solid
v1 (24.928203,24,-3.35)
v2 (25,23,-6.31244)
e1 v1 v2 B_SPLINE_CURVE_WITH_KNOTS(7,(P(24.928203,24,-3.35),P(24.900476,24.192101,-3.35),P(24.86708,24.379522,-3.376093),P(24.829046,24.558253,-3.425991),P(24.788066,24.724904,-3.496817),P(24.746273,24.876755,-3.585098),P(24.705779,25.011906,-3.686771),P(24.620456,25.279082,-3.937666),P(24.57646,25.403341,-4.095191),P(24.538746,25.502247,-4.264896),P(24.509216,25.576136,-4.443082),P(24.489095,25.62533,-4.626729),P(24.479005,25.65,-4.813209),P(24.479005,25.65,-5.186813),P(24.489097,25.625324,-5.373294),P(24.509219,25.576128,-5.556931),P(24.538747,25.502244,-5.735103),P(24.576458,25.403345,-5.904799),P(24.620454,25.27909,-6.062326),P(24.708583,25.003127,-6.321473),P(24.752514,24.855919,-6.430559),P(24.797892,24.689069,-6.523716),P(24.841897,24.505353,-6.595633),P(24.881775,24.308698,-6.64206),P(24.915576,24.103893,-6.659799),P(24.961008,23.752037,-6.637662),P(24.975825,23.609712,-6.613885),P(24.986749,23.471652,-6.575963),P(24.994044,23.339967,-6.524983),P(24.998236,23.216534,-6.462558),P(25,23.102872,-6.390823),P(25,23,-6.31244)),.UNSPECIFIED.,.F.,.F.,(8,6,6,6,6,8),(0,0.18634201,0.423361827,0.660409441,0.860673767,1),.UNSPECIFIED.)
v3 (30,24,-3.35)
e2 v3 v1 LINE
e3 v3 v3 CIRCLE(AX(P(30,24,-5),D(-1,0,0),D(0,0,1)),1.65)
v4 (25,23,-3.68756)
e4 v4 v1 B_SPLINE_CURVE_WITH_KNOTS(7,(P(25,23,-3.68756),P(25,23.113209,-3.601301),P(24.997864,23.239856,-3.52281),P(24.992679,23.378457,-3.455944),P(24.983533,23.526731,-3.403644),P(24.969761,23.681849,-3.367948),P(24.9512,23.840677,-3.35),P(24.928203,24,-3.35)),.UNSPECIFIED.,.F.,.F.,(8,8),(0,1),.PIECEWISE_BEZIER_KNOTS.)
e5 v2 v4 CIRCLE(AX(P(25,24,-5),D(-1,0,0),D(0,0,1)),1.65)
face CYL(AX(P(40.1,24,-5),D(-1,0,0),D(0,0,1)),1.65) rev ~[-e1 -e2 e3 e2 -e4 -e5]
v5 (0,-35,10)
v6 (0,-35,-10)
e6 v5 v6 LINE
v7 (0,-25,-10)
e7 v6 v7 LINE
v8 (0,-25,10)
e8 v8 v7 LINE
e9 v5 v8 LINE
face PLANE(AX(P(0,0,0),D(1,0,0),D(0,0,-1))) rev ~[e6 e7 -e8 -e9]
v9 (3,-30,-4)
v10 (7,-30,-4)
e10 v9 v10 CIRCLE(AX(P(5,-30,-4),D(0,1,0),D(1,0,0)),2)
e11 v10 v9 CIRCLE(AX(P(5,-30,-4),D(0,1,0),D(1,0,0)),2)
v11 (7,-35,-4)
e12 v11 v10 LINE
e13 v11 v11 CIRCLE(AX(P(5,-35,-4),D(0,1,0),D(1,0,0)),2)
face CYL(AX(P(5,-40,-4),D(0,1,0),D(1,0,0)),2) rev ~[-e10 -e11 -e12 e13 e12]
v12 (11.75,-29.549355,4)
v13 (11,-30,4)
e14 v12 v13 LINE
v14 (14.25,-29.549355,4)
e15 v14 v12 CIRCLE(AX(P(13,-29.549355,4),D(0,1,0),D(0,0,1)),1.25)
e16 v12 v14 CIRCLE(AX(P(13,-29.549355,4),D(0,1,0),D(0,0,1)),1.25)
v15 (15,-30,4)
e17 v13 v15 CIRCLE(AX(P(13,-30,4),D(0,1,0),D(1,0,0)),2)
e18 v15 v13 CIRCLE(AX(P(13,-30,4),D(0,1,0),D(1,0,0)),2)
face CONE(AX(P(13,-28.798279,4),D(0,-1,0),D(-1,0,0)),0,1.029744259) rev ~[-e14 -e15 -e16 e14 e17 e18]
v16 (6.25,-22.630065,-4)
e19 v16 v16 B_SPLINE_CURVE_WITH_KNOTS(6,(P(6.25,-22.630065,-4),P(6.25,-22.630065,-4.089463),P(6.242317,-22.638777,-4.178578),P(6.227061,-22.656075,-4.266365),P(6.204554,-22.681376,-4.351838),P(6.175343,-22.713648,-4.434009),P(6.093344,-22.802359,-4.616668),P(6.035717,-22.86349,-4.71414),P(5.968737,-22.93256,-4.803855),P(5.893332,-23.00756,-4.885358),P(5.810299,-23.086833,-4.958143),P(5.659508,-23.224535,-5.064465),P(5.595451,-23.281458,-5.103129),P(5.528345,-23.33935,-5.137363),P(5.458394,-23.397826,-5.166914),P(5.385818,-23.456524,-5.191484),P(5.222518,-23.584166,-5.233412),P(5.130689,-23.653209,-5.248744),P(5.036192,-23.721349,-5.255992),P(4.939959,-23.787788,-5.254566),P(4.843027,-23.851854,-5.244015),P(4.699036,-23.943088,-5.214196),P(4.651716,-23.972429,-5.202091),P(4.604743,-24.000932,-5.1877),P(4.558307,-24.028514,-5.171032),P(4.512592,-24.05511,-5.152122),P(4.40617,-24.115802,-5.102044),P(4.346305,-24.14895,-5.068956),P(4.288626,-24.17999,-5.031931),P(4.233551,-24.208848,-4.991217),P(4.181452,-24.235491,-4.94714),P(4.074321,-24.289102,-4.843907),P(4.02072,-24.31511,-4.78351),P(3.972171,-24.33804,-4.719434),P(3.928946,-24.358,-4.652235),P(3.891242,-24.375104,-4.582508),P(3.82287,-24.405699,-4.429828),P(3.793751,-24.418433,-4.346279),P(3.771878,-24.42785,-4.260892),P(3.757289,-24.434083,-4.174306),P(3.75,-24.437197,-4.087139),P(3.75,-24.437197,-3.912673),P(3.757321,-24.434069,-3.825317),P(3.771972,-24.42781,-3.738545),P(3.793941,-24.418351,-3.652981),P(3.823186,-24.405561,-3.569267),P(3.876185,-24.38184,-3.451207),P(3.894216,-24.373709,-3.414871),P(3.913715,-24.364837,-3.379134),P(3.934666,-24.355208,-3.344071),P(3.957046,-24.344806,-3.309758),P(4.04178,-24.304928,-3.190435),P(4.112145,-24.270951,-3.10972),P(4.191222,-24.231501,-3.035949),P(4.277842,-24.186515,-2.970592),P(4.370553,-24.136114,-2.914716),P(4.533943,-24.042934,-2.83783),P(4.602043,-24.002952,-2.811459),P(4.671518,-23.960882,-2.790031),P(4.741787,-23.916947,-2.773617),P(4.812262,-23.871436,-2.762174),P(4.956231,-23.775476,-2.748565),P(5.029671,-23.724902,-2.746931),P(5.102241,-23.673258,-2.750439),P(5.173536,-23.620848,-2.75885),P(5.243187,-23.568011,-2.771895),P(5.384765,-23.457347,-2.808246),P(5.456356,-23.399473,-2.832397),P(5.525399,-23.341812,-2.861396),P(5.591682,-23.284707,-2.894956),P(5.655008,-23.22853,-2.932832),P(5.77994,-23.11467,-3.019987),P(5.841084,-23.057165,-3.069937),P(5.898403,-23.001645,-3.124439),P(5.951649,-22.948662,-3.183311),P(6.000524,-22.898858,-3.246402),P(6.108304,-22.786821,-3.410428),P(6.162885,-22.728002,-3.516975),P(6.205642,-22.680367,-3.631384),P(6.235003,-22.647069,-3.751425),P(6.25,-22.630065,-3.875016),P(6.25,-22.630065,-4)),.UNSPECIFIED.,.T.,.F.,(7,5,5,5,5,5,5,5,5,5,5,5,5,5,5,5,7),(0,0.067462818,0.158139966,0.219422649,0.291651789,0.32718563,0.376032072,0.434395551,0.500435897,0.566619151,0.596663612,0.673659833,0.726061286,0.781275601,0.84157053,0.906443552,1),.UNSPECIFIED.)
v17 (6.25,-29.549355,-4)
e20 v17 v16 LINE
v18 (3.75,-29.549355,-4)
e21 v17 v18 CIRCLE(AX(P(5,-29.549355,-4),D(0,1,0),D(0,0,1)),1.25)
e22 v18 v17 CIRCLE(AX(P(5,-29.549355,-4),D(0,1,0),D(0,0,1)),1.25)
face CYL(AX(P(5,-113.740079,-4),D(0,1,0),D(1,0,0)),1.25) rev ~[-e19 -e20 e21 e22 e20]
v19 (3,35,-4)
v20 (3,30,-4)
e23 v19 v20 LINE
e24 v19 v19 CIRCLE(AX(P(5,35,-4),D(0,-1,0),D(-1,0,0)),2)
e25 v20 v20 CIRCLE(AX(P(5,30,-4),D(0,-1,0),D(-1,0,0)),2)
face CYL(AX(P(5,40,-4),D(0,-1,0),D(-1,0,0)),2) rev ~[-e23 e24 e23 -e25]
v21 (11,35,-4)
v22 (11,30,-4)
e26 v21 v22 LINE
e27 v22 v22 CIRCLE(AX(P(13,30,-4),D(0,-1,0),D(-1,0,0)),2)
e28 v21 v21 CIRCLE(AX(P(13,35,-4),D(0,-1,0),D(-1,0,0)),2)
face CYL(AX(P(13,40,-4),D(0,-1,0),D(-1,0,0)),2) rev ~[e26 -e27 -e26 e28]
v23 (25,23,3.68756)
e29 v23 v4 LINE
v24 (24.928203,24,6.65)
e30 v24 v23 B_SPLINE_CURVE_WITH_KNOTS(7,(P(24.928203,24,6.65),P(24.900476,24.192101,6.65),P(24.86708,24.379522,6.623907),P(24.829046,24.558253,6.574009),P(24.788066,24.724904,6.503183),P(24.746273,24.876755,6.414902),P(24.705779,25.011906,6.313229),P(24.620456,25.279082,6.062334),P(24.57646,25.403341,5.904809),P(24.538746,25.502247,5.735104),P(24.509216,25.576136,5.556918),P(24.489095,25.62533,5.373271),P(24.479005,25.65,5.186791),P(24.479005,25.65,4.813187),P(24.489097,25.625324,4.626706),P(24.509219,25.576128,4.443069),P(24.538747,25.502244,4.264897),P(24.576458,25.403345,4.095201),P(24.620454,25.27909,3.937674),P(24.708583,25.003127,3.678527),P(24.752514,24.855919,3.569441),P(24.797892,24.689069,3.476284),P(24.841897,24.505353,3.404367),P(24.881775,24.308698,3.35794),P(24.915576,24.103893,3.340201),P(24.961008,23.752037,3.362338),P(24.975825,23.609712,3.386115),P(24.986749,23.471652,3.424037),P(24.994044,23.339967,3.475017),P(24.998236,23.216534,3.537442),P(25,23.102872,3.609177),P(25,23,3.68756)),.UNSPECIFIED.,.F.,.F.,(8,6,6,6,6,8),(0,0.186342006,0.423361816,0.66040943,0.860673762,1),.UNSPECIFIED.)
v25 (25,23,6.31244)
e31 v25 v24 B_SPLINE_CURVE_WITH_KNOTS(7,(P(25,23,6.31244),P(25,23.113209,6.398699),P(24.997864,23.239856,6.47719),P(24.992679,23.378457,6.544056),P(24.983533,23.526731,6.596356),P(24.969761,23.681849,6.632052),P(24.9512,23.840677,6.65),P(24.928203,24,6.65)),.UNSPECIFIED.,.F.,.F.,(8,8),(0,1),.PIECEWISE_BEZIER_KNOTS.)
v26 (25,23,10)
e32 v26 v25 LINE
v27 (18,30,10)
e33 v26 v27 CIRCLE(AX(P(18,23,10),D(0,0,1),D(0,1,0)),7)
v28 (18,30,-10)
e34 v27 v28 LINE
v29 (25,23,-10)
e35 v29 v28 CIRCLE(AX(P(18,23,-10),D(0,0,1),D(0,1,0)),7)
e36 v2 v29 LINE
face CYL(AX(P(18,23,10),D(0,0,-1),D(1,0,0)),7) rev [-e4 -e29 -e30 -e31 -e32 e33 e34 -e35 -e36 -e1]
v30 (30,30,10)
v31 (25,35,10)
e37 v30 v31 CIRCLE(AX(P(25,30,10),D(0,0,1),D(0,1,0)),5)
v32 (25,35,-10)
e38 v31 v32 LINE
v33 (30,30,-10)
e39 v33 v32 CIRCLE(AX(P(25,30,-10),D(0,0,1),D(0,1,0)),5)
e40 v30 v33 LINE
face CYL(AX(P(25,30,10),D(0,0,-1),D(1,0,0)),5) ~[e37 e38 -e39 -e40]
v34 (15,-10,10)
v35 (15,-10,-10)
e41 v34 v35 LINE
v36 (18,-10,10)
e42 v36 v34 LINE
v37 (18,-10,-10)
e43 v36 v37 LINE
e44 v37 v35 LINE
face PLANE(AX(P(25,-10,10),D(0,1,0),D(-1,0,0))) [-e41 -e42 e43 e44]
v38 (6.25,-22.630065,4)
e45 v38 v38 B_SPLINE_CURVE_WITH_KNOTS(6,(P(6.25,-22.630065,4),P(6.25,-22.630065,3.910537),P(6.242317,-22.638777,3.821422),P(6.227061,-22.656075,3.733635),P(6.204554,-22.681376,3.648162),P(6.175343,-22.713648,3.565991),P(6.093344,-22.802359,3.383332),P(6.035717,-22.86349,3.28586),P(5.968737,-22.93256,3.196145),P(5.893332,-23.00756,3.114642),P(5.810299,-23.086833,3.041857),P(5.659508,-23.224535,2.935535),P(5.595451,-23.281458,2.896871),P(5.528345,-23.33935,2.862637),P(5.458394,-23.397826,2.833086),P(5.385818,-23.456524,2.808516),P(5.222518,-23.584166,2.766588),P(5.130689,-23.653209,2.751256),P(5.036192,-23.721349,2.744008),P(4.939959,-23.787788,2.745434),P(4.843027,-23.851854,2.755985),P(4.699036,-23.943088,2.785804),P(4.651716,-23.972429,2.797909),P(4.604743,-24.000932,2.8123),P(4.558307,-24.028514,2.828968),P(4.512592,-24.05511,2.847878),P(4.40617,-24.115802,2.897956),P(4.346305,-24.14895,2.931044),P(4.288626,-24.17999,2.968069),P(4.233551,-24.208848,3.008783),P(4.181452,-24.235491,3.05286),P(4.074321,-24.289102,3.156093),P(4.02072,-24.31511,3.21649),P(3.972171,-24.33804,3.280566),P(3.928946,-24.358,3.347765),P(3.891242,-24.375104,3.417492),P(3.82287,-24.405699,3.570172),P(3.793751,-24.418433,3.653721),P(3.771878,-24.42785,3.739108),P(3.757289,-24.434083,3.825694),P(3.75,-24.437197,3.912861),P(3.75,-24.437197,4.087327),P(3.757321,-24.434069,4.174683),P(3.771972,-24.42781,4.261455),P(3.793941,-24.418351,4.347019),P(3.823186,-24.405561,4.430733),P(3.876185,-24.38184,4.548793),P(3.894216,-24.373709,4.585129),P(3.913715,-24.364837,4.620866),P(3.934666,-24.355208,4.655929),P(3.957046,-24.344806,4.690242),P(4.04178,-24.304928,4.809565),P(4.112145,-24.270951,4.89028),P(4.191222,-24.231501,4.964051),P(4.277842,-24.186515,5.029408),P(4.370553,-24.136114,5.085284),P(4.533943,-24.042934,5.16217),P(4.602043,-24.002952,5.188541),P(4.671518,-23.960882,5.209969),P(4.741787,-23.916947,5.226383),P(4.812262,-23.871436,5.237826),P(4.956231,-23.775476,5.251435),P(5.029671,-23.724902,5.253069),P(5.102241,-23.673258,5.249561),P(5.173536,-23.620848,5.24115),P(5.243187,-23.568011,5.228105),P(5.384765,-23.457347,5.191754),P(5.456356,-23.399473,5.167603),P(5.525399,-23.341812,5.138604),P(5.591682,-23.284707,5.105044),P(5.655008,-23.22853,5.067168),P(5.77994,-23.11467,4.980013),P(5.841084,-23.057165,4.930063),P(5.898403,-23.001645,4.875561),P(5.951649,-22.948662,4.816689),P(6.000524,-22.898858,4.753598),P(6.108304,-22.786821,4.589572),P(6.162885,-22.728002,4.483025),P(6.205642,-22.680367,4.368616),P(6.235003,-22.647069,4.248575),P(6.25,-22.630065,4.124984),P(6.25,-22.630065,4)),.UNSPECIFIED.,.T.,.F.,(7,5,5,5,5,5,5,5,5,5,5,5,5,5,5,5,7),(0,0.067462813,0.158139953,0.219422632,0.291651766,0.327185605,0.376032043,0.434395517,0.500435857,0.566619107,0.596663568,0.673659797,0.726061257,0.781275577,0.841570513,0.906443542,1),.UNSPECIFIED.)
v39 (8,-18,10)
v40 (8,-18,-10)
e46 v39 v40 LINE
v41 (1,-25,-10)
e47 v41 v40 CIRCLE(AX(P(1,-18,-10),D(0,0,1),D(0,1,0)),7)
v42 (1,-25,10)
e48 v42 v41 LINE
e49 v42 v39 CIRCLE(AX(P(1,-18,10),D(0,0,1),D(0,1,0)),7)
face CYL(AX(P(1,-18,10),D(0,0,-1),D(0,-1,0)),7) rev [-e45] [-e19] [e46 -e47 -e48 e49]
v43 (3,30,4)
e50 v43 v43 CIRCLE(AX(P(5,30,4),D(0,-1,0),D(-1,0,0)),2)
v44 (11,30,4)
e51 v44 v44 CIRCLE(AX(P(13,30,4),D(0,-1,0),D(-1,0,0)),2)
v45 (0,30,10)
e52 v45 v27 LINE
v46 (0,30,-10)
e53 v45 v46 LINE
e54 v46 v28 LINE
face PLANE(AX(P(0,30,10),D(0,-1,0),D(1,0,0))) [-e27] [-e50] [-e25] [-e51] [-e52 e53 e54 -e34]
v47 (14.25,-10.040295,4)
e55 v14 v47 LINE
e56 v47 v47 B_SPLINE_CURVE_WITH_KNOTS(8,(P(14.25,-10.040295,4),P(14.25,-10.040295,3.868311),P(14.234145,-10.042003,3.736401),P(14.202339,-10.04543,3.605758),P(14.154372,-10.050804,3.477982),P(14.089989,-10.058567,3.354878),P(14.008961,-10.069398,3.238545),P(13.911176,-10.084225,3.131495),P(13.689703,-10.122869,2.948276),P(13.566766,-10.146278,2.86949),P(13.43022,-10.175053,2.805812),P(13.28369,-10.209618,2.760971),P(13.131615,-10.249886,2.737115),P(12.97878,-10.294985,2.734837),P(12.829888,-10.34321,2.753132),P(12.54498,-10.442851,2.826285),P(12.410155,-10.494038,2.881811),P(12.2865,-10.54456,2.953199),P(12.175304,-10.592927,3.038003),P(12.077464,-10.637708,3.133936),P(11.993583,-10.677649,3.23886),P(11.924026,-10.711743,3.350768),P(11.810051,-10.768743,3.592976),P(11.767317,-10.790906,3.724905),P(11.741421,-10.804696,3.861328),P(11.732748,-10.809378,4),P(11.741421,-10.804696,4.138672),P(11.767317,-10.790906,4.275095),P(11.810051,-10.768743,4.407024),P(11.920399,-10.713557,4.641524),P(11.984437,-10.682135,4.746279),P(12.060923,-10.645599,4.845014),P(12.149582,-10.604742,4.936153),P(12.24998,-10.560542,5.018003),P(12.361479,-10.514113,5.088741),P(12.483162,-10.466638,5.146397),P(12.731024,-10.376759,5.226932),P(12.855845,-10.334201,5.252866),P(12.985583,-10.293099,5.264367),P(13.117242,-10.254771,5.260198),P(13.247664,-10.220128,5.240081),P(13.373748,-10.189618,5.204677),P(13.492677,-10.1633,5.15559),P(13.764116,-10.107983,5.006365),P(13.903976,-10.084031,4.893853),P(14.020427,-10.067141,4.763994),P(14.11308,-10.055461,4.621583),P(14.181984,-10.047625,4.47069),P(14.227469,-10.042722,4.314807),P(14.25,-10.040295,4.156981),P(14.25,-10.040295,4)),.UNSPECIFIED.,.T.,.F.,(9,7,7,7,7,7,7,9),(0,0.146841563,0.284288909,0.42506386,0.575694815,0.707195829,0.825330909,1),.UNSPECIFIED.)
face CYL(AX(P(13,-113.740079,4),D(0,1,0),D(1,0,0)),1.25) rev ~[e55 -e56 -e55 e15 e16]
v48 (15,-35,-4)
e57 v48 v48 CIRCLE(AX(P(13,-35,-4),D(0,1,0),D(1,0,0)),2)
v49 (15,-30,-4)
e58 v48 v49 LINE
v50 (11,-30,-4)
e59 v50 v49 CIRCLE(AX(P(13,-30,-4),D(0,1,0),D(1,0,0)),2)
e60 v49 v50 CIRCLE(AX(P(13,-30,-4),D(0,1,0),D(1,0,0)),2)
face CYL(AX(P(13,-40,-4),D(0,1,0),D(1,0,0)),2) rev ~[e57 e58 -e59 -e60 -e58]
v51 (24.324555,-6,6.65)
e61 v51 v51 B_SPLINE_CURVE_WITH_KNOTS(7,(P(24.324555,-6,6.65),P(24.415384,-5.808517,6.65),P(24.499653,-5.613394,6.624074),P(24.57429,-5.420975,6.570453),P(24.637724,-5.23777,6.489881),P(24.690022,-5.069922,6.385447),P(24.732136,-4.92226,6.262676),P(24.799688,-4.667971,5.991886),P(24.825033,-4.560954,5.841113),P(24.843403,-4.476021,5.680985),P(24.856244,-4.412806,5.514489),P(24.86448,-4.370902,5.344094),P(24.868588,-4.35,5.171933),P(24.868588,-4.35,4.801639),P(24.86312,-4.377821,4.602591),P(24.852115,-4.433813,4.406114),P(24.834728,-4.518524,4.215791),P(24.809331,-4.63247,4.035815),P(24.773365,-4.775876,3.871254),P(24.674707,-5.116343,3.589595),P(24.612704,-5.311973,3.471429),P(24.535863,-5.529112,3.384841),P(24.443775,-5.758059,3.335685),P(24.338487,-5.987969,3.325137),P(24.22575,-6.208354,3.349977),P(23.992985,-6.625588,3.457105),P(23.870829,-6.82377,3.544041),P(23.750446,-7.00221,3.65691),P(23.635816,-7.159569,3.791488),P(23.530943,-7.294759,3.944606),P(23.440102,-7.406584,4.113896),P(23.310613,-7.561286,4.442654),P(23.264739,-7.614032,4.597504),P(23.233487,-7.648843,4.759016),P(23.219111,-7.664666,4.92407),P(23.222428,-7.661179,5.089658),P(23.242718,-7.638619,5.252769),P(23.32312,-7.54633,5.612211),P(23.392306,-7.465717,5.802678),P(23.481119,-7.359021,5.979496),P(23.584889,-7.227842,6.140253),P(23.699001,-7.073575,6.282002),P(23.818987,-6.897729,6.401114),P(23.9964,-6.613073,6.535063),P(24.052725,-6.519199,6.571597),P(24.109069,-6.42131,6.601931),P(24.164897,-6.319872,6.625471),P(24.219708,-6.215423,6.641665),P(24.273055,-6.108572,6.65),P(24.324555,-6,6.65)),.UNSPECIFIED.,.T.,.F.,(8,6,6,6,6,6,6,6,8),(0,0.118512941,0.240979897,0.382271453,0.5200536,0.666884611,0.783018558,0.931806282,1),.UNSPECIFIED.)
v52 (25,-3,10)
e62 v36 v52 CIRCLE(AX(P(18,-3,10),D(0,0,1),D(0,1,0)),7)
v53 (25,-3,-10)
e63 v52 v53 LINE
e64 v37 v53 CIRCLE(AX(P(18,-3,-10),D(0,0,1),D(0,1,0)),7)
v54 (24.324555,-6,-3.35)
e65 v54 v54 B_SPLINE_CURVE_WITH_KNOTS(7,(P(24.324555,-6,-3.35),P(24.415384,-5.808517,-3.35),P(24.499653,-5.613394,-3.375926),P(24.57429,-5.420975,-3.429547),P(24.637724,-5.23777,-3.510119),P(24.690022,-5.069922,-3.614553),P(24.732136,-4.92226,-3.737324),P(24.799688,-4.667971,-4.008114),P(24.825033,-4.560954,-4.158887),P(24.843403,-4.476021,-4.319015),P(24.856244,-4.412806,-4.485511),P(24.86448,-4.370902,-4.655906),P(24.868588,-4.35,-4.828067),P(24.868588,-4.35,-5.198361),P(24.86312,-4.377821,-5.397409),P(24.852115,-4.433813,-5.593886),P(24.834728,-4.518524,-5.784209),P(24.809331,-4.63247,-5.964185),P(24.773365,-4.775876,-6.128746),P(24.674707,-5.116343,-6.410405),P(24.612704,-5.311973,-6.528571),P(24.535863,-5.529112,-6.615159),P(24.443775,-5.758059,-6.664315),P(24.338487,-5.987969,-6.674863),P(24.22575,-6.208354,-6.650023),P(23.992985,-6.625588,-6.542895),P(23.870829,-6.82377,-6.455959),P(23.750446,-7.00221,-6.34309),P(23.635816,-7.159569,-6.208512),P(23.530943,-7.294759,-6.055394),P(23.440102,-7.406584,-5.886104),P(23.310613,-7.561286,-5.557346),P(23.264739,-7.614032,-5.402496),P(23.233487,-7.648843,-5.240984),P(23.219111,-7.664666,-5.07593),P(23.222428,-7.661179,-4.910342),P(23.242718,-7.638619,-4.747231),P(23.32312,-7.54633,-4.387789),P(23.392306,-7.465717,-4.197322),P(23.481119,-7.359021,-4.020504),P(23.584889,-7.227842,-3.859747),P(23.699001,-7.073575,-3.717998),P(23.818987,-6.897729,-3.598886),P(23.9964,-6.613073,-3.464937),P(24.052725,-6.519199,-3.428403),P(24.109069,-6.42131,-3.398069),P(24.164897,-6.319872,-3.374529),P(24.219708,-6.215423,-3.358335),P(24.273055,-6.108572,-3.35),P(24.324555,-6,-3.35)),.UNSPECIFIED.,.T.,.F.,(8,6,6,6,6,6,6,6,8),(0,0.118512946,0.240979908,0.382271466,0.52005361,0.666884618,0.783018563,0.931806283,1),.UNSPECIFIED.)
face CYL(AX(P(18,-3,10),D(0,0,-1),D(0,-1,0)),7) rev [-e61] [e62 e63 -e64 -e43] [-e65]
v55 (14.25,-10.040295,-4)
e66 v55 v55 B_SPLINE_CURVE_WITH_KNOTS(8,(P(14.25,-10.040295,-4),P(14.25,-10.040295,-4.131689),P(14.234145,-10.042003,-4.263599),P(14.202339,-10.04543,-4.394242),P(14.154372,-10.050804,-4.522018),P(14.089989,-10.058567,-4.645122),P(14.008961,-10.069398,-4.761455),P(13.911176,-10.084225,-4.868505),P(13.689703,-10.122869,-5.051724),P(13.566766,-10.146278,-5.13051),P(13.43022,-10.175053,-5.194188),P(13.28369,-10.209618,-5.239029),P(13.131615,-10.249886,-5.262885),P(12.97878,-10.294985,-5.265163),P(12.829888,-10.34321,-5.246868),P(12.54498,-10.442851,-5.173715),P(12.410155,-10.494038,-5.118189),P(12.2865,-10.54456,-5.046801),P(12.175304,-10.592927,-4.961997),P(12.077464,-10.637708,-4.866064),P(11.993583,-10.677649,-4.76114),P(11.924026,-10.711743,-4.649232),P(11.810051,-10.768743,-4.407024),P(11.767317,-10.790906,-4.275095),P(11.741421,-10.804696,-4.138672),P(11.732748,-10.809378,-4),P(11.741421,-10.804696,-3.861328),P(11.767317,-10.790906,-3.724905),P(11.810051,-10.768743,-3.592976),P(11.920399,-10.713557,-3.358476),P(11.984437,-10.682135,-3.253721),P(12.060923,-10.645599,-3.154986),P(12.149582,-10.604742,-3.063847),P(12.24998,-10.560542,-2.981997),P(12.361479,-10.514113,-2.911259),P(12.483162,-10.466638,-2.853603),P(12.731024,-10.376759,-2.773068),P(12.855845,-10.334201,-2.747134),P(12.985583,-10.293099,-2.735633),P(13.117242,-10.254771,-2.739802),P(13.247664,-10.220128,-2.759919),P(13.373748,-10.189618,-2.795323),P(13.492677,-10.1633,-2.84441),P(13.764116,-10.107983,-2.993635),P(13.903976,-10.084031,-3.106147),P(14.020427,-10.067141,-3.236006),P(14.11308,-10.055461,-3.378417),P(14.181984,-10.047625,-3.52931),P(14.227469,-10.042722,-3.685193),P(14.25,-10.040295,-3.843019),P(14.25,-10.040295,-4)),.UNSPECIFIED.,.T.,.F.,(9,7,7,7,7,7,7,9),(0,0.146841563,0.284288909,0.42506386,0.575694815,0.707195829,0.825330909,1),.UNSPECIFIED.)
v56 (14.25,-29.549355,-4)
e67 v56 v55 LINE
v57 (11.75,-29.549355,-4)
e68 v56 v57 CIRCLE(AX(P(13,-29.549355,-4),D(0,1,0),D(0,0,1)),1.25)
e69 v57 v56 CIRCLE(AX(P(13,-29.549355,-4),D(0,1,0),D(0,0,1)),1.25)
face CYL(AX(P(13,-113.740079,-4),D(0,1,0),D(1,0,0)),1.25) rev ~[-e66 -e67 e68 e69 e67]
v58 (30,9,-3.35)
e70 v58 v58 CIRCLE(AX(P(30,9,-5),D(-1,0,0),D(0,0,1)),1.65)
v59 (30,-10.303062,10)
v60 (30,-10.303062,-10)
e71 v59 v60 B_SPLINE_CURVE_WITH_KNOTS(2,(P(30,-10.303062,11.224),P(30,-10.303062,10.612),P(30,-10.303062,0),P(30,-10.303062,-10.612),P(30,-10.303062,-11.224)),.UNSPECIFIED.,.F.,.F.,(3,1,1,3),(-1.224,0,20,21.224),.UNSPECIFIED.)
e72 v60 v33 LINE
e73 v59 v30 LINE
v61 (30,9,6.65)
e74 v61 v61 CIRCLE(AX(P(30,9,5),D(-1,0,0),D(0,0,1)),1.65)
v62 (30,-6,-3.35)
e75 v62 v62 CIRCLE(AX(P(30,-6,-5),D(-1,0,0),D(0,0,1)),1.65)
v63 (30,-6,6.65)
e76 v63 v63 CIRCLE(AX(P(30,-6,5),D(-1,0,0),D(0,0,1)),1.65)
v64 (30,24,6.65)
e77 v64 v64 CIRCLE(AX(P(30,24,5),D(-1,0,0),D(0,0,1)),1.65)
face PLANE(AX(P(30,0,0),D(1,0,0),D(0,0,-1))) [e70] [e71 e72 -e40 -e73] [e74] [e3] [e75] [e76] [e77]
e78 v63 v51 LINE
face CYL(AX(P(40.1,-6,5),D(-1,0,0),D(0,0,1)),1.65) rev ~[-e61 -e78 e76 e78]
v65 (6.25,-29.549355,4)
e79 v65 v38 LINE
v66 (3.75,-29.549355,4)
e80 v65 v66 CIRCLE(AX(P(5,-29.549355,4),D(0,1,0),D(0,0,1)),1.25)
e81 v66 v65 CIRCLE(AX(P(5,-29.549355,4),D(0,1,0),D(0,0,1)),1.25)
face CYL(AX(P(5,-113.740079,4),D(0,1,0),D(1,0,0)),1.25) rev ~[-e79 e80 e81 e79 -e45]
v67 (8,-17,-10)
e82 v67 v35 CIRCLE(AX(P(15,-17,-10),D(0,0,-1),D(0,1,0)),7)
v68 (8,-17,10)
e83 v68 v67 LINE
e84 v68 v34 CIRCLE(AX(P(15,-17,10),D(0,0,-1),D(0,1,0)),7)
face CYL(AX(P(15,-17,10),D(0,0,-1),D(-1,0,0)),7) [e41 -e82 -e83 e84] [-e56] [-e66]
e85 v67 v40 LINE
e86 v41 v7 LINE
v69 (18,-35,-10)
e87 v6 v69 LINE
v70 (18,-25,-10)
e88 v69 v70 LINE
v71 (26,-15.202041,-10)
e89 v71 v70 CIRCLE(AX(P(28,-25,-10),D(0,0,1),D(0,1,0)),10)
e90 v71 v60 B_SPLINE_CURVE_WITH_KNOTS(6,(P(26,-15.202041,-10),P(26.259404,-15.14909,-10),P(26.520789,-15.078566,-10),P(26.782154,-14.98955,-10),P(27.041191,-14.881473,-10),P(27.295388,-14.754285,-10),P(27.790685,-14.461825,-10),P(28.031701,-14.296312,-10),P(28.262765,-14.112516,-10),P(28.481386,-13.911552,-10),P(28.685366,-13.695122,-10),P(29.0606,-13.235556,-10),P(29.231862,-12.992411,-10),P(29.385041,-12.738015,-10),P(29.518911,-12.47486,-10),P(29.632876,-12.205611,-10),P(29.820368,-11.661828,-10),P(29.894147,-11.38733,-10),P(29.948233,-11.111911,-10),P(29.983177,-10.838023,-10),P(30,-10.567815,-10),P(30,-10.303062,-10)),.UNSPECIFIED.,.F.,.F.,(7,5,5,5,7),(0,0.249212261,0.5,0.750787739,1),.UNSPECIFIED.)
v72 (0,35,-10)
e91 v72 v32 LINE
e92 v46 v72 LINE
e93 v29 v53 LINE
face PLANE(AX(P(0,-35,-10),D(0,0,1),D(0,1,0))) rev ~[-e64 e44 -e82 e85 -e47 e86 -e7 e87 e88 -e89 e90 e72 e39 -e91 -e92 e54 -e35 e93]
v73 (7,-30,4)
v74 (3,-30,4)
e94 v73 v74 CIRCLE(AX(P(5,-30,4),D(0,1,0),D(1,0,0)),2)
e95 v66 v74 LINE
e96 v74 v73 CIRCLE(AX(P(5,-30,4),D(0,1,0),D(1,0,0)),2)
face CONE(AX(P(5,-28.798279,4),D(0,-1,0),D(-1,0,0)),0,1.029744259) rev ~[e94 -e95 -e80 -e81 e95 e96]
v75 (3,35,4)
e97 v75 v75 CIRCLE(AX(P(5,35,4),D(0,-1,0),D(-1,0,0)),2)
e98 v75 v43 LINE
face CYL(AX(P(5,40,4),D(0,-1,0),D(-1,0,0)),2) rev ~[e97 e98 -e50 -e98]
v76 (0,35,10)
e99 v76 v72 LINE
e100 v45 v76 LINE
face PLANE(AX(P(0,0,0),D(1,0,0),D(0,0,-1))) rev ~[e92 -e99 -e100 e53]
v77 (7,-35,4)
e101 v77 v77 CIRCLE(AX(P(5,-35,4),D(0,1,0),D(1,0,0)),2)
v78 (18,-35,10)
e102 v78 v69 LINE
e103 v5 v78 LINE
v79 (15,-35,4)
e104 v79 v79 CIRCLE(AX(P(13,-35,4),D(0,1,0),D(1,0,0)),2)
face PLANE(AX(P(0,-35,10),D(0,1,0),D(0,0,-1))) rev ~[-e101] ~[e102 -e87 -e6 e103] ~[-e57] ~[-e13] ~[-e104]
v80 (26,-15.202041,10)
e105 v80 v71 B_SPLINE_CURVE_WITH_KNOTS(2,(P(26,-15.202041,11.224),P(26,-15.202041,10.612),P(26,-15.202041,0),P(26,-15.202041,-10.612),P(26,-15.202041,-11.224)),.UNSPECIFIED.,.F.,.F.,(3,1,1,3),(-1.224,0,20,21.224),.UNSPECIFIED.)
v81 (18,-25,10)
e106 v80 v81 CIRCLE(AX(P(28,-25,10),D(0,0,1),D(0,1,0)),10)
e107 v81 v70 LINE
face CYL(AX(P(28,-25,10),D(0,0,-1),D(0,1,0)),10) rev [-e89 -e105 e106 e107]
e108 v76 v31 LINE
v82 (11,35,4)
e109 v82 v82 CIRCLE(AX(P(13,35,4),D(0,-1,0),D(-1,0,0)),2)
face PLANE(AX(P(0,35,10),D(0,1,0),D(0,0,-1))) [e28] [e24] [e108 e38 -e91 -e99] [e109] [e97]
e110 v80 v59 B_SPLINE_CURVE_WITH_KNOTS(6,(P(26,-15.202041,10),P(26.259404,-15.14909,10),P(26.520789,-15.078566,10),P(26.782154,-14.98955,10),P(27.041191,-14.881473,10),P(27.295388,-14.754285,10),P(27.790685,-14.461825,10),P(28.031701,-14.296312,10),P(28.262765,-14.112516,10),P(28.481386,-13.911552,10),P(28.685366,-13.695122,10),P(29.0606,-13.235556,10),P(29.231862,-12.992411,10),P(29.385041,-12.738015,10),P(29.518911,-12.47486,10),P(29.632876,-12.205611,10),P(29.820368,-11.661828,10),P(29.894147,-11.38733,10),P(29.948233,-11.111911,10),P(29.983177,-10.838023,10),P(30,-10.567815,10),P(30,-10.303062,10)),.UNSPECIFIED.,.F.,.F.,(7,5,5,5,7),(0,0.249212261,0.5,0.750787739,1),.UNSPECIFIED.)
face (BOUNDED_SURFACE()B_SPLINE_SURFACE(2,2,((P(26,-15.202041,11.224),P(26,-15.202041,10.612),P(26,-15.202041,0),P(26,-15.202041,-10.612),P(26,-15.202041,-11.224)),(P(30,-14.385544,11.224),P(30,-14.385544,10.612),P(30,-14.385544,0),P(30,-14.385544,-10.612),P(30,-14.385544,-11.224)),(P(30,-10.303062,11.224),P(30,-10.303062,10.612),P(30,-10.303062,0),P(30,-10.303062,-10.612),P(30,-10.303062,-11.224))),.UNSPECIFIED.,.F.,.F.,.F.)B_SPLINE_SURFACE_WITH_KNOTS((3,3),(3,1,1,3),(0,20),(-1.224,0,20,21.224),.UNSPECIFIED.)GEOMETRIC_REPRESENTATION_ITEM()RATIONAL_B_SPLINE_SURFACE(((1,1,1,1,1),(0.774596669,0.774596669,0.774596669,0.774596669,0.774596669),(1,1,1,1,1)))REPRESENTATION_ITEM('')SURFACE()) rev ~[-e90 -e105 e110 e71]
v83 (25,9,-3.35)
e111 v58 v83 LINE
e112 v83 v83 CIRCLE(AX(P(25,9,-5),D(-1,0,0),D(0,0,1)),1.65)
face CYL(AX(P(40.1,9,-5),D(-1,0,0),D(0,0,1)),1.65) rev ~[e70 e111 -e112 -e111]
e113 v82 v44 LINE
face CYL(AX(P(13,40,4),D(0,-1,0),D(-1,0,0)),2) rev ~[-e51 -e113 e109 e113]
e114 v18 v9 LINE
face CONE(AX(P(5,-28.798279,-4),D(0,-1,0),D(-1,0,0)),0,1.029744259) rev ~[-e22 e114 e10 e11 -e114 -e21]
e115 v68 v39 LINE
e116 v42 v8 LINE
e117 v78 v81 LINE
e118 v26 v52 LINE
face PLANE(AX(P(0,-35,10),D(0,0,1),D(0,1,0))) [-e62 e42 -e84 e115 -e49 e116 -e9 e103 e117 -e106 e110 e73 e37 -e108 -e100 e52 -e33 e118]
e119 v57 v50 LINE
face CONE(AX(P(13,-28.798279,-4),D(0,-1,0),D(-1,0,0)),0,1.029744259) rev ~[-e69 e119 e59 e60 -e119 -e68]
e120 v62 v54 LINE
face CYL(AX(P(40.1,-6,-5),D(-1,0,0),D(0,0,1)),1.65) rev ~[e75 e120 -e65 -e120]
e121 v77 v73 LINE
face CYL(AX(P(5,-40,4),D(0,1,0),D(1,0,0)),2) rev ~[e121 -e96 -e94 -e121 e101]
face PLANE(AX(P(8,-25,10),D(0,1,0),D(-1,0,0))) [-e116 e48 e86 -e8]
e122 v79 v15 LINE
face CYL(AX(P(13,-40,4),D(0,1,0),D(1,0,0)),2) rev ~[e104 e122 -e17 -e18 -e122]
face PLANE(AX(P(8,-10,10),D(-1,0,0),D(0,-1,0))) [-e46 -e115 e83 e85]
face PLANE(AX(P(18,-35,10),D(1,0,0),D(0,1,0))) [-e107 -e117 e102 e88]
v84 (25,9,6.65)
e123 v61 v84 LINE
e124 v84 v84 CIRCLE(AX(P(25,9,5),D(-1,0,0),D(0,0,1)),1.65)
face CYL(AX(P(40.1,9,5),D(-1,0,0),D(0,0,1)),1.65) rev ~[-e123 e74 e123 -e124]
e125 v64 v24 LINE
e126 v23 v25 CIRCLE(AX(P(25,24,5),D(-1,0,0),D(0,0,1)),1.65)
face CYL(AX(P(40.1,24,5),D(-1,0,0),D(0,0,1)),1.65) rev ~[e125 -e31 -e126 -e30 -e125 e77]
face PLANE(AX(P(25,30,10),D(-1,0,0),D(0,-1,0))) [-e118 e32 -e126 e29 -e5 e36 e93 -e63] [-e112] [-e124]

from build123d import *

# Parameters (mm, degrees)
SKETCH1_W                      = 20
SKETCH1_H                      = 70
BOSS_EXTRUDE1_DEPTH            = 30
SKETCH2_W                      = 12
SKETCH2_H                      = 20
CUT_EXTRUDE1_DEPTH             = 51.249378106
FILLET1_R                      = 10
FILLET2_R                      = 5
CUT_EXTRUDE2_DEPTH             = 51.249378275
FILLET3_R                      = 7
FILLET4_R                      = 7
F_4_0_REAMED_HOLE_D            = 4
F_4_0_REAMED_HOLE_DEPTH        = 5
M3X0_5_TAPPED_HOLE1_D          = 2.5
F_4_0_REAMED_HOLE_BOTTOM_D     = 4
F_4_0_REAMED_HOLE_BOTTOM_DEPTH = 5
F_4_0_REAMED_HOLE_BOTTOM_TIP   = 1.201721238
M4X0_7_TAPPED_HOLE1_D          = 3.3
M4X0_7_TAPPED_HOLE1_DEPTH      = 10.1
M4X0_7_TAPPED_HOLE1_TIP        = 0.991420021


with BuildPart() as part:
    # Sketch1 → Boss-Extrude1 (new body)
    with BuildSketch(Plane(origin=(0, 0, 0), x_dir=(0, 0, -1), z_dir=(1, 0, 0))):
        Rectangle(SKETCH1_W, SKETCH1_H)
    extrude(amount=BOSS_EXTRUDE1_DEPTH)

    # Sketch2 → Cut-Extrude1 (cut, through all)
    with BuildSketch(Plane.XY.offset(10)):
        with Locations((24, -25)):
            Rectangle(SKETCH2_W, SKETCH2_H)
    extrude(amount=-CUT_EXTRUDE1_DEPTH, mode=Mode.SUBTRACT)

    # Fillet1
    fillet1_edges = [part.edges().sort_by_distance(p)[0] for p in [
        (18, -15, 0),
    ]]
    fillet(fillet1_edges, radius=FILLET1_R)

    # Fillet2
    fillet2_edges = [part.edges().sort_by_distance(p)[0] for p in [
        (30, 35, 0),
        (30, -15, 0),
    ]]
    fillet(fillet2_edges, radius=FILLET2_R)

    # Sketch6 → Cut-Extrude2 (cut, through all)
    with BuildSketch(Plane.XY.offset(10)):
        Polygon((0, 30), (25, 30), (25, -10), (8, -10), (8, -25), (0, -25), align=None)
    extrude(amount=-CUT_EXTRUDE2_DEPTH, mode=Mode.SUBTRACT)

    # Fillet3
    fillet3_edges = [part.edges().sort_by_distance(p)[0] for p in [
        (25, 30, 0),
        (25, -10, 0),
        (8, -25, 0),
    ]]
    fillet(fillet3_edges, radius=FILLET3_R)

    # Fillet4
    fillet4_edges = [part.edges().sort_by_distance(p)[0] for p in [
        (8, -10, 0),
    ]]
    fillet(fillet4_edges, radius=FILLET4_R)

    # Ø4.0 Reamed hole
    with Locations(Plane(origin=(0, 35, 0), x_dir=(1, 0, 0), z_dir=(0, 1, 0))):
        with Locations((5, -4), (5, 4), (13, 4), (13, -4)):
            Hole(F_4_0_REAMED_HOLE_D / 2, depth=F_4_0_REAMED_HOLE_DEPTH)

    # M3x0.5 Tapped Hole1 (through all)
    with Locations(Plane(origin=(0, -35, 0), x_dir=(-1, 0, 0), z_dir=(0, -1, 0))):
        with Locations((-5, -4), (-13, -4), (-5, 4), (-13, 4)):
            Hole(M3X0_5_TAPPED_HOLE1_D / 2)

    # Ø4.0 Reamed hole, bottom
    with Locations(Plane(origin=(0, -35, 0), x_dir=(-1, 0, 0), z_dir=(0, -1, 0))):
        with Locations((-5, -4), (-13, -4), (-13, 4), (-5, 4)):
            Hole(F_4_0_REAMED_HOLE_BOTTOM_D / 2, depth=F_4_0_REAMED_HOLE_BOTTOM_DEPTH)
            with Locations((0, 0, -(F_4_0_REAMED_HOLE_BOTTOM_DEPTH + F_4_0_REAMED_HOLE_BOTTOM_TIP / 2))):  # 118° drill point
                Cone(0, F_4_0_REAMED_HOLE_BOTTOM_D / 2, F_4_0_REAMED_HOLE_BOTTOM_TIP, mode=Mode.SUBTRACT)

    # M4x0.7 Tapped Hole1
    with Locations(Plane(origin=(30, 0, 0), x_dir=(0, 0, -1), z_dir=(1, 0, 0))):
        with Locations((-5, 24), (5, 24), (-5, 9), (5, 9), (-5, -6), (5, -6)):
            Hole(M4X0_7_TAPPED_HOLE1_D / 2, depth=M4X0_7_TAPPED_HOLE1_DEPTH)
            with Locations((0, 0, -(M4X0_7_TAPPED_HOLE1_DEPTH + M4X0_7_TAPPED_HOLE1_TIP / 2))):  # 118° drill point
                Cone(0, M4X0_7_TAPPED_HOLE1_D / 2, M4X0_7_TAPPED_HOLE1_TIP, mode=Mode.SUBTRACT)


solid = part.part
